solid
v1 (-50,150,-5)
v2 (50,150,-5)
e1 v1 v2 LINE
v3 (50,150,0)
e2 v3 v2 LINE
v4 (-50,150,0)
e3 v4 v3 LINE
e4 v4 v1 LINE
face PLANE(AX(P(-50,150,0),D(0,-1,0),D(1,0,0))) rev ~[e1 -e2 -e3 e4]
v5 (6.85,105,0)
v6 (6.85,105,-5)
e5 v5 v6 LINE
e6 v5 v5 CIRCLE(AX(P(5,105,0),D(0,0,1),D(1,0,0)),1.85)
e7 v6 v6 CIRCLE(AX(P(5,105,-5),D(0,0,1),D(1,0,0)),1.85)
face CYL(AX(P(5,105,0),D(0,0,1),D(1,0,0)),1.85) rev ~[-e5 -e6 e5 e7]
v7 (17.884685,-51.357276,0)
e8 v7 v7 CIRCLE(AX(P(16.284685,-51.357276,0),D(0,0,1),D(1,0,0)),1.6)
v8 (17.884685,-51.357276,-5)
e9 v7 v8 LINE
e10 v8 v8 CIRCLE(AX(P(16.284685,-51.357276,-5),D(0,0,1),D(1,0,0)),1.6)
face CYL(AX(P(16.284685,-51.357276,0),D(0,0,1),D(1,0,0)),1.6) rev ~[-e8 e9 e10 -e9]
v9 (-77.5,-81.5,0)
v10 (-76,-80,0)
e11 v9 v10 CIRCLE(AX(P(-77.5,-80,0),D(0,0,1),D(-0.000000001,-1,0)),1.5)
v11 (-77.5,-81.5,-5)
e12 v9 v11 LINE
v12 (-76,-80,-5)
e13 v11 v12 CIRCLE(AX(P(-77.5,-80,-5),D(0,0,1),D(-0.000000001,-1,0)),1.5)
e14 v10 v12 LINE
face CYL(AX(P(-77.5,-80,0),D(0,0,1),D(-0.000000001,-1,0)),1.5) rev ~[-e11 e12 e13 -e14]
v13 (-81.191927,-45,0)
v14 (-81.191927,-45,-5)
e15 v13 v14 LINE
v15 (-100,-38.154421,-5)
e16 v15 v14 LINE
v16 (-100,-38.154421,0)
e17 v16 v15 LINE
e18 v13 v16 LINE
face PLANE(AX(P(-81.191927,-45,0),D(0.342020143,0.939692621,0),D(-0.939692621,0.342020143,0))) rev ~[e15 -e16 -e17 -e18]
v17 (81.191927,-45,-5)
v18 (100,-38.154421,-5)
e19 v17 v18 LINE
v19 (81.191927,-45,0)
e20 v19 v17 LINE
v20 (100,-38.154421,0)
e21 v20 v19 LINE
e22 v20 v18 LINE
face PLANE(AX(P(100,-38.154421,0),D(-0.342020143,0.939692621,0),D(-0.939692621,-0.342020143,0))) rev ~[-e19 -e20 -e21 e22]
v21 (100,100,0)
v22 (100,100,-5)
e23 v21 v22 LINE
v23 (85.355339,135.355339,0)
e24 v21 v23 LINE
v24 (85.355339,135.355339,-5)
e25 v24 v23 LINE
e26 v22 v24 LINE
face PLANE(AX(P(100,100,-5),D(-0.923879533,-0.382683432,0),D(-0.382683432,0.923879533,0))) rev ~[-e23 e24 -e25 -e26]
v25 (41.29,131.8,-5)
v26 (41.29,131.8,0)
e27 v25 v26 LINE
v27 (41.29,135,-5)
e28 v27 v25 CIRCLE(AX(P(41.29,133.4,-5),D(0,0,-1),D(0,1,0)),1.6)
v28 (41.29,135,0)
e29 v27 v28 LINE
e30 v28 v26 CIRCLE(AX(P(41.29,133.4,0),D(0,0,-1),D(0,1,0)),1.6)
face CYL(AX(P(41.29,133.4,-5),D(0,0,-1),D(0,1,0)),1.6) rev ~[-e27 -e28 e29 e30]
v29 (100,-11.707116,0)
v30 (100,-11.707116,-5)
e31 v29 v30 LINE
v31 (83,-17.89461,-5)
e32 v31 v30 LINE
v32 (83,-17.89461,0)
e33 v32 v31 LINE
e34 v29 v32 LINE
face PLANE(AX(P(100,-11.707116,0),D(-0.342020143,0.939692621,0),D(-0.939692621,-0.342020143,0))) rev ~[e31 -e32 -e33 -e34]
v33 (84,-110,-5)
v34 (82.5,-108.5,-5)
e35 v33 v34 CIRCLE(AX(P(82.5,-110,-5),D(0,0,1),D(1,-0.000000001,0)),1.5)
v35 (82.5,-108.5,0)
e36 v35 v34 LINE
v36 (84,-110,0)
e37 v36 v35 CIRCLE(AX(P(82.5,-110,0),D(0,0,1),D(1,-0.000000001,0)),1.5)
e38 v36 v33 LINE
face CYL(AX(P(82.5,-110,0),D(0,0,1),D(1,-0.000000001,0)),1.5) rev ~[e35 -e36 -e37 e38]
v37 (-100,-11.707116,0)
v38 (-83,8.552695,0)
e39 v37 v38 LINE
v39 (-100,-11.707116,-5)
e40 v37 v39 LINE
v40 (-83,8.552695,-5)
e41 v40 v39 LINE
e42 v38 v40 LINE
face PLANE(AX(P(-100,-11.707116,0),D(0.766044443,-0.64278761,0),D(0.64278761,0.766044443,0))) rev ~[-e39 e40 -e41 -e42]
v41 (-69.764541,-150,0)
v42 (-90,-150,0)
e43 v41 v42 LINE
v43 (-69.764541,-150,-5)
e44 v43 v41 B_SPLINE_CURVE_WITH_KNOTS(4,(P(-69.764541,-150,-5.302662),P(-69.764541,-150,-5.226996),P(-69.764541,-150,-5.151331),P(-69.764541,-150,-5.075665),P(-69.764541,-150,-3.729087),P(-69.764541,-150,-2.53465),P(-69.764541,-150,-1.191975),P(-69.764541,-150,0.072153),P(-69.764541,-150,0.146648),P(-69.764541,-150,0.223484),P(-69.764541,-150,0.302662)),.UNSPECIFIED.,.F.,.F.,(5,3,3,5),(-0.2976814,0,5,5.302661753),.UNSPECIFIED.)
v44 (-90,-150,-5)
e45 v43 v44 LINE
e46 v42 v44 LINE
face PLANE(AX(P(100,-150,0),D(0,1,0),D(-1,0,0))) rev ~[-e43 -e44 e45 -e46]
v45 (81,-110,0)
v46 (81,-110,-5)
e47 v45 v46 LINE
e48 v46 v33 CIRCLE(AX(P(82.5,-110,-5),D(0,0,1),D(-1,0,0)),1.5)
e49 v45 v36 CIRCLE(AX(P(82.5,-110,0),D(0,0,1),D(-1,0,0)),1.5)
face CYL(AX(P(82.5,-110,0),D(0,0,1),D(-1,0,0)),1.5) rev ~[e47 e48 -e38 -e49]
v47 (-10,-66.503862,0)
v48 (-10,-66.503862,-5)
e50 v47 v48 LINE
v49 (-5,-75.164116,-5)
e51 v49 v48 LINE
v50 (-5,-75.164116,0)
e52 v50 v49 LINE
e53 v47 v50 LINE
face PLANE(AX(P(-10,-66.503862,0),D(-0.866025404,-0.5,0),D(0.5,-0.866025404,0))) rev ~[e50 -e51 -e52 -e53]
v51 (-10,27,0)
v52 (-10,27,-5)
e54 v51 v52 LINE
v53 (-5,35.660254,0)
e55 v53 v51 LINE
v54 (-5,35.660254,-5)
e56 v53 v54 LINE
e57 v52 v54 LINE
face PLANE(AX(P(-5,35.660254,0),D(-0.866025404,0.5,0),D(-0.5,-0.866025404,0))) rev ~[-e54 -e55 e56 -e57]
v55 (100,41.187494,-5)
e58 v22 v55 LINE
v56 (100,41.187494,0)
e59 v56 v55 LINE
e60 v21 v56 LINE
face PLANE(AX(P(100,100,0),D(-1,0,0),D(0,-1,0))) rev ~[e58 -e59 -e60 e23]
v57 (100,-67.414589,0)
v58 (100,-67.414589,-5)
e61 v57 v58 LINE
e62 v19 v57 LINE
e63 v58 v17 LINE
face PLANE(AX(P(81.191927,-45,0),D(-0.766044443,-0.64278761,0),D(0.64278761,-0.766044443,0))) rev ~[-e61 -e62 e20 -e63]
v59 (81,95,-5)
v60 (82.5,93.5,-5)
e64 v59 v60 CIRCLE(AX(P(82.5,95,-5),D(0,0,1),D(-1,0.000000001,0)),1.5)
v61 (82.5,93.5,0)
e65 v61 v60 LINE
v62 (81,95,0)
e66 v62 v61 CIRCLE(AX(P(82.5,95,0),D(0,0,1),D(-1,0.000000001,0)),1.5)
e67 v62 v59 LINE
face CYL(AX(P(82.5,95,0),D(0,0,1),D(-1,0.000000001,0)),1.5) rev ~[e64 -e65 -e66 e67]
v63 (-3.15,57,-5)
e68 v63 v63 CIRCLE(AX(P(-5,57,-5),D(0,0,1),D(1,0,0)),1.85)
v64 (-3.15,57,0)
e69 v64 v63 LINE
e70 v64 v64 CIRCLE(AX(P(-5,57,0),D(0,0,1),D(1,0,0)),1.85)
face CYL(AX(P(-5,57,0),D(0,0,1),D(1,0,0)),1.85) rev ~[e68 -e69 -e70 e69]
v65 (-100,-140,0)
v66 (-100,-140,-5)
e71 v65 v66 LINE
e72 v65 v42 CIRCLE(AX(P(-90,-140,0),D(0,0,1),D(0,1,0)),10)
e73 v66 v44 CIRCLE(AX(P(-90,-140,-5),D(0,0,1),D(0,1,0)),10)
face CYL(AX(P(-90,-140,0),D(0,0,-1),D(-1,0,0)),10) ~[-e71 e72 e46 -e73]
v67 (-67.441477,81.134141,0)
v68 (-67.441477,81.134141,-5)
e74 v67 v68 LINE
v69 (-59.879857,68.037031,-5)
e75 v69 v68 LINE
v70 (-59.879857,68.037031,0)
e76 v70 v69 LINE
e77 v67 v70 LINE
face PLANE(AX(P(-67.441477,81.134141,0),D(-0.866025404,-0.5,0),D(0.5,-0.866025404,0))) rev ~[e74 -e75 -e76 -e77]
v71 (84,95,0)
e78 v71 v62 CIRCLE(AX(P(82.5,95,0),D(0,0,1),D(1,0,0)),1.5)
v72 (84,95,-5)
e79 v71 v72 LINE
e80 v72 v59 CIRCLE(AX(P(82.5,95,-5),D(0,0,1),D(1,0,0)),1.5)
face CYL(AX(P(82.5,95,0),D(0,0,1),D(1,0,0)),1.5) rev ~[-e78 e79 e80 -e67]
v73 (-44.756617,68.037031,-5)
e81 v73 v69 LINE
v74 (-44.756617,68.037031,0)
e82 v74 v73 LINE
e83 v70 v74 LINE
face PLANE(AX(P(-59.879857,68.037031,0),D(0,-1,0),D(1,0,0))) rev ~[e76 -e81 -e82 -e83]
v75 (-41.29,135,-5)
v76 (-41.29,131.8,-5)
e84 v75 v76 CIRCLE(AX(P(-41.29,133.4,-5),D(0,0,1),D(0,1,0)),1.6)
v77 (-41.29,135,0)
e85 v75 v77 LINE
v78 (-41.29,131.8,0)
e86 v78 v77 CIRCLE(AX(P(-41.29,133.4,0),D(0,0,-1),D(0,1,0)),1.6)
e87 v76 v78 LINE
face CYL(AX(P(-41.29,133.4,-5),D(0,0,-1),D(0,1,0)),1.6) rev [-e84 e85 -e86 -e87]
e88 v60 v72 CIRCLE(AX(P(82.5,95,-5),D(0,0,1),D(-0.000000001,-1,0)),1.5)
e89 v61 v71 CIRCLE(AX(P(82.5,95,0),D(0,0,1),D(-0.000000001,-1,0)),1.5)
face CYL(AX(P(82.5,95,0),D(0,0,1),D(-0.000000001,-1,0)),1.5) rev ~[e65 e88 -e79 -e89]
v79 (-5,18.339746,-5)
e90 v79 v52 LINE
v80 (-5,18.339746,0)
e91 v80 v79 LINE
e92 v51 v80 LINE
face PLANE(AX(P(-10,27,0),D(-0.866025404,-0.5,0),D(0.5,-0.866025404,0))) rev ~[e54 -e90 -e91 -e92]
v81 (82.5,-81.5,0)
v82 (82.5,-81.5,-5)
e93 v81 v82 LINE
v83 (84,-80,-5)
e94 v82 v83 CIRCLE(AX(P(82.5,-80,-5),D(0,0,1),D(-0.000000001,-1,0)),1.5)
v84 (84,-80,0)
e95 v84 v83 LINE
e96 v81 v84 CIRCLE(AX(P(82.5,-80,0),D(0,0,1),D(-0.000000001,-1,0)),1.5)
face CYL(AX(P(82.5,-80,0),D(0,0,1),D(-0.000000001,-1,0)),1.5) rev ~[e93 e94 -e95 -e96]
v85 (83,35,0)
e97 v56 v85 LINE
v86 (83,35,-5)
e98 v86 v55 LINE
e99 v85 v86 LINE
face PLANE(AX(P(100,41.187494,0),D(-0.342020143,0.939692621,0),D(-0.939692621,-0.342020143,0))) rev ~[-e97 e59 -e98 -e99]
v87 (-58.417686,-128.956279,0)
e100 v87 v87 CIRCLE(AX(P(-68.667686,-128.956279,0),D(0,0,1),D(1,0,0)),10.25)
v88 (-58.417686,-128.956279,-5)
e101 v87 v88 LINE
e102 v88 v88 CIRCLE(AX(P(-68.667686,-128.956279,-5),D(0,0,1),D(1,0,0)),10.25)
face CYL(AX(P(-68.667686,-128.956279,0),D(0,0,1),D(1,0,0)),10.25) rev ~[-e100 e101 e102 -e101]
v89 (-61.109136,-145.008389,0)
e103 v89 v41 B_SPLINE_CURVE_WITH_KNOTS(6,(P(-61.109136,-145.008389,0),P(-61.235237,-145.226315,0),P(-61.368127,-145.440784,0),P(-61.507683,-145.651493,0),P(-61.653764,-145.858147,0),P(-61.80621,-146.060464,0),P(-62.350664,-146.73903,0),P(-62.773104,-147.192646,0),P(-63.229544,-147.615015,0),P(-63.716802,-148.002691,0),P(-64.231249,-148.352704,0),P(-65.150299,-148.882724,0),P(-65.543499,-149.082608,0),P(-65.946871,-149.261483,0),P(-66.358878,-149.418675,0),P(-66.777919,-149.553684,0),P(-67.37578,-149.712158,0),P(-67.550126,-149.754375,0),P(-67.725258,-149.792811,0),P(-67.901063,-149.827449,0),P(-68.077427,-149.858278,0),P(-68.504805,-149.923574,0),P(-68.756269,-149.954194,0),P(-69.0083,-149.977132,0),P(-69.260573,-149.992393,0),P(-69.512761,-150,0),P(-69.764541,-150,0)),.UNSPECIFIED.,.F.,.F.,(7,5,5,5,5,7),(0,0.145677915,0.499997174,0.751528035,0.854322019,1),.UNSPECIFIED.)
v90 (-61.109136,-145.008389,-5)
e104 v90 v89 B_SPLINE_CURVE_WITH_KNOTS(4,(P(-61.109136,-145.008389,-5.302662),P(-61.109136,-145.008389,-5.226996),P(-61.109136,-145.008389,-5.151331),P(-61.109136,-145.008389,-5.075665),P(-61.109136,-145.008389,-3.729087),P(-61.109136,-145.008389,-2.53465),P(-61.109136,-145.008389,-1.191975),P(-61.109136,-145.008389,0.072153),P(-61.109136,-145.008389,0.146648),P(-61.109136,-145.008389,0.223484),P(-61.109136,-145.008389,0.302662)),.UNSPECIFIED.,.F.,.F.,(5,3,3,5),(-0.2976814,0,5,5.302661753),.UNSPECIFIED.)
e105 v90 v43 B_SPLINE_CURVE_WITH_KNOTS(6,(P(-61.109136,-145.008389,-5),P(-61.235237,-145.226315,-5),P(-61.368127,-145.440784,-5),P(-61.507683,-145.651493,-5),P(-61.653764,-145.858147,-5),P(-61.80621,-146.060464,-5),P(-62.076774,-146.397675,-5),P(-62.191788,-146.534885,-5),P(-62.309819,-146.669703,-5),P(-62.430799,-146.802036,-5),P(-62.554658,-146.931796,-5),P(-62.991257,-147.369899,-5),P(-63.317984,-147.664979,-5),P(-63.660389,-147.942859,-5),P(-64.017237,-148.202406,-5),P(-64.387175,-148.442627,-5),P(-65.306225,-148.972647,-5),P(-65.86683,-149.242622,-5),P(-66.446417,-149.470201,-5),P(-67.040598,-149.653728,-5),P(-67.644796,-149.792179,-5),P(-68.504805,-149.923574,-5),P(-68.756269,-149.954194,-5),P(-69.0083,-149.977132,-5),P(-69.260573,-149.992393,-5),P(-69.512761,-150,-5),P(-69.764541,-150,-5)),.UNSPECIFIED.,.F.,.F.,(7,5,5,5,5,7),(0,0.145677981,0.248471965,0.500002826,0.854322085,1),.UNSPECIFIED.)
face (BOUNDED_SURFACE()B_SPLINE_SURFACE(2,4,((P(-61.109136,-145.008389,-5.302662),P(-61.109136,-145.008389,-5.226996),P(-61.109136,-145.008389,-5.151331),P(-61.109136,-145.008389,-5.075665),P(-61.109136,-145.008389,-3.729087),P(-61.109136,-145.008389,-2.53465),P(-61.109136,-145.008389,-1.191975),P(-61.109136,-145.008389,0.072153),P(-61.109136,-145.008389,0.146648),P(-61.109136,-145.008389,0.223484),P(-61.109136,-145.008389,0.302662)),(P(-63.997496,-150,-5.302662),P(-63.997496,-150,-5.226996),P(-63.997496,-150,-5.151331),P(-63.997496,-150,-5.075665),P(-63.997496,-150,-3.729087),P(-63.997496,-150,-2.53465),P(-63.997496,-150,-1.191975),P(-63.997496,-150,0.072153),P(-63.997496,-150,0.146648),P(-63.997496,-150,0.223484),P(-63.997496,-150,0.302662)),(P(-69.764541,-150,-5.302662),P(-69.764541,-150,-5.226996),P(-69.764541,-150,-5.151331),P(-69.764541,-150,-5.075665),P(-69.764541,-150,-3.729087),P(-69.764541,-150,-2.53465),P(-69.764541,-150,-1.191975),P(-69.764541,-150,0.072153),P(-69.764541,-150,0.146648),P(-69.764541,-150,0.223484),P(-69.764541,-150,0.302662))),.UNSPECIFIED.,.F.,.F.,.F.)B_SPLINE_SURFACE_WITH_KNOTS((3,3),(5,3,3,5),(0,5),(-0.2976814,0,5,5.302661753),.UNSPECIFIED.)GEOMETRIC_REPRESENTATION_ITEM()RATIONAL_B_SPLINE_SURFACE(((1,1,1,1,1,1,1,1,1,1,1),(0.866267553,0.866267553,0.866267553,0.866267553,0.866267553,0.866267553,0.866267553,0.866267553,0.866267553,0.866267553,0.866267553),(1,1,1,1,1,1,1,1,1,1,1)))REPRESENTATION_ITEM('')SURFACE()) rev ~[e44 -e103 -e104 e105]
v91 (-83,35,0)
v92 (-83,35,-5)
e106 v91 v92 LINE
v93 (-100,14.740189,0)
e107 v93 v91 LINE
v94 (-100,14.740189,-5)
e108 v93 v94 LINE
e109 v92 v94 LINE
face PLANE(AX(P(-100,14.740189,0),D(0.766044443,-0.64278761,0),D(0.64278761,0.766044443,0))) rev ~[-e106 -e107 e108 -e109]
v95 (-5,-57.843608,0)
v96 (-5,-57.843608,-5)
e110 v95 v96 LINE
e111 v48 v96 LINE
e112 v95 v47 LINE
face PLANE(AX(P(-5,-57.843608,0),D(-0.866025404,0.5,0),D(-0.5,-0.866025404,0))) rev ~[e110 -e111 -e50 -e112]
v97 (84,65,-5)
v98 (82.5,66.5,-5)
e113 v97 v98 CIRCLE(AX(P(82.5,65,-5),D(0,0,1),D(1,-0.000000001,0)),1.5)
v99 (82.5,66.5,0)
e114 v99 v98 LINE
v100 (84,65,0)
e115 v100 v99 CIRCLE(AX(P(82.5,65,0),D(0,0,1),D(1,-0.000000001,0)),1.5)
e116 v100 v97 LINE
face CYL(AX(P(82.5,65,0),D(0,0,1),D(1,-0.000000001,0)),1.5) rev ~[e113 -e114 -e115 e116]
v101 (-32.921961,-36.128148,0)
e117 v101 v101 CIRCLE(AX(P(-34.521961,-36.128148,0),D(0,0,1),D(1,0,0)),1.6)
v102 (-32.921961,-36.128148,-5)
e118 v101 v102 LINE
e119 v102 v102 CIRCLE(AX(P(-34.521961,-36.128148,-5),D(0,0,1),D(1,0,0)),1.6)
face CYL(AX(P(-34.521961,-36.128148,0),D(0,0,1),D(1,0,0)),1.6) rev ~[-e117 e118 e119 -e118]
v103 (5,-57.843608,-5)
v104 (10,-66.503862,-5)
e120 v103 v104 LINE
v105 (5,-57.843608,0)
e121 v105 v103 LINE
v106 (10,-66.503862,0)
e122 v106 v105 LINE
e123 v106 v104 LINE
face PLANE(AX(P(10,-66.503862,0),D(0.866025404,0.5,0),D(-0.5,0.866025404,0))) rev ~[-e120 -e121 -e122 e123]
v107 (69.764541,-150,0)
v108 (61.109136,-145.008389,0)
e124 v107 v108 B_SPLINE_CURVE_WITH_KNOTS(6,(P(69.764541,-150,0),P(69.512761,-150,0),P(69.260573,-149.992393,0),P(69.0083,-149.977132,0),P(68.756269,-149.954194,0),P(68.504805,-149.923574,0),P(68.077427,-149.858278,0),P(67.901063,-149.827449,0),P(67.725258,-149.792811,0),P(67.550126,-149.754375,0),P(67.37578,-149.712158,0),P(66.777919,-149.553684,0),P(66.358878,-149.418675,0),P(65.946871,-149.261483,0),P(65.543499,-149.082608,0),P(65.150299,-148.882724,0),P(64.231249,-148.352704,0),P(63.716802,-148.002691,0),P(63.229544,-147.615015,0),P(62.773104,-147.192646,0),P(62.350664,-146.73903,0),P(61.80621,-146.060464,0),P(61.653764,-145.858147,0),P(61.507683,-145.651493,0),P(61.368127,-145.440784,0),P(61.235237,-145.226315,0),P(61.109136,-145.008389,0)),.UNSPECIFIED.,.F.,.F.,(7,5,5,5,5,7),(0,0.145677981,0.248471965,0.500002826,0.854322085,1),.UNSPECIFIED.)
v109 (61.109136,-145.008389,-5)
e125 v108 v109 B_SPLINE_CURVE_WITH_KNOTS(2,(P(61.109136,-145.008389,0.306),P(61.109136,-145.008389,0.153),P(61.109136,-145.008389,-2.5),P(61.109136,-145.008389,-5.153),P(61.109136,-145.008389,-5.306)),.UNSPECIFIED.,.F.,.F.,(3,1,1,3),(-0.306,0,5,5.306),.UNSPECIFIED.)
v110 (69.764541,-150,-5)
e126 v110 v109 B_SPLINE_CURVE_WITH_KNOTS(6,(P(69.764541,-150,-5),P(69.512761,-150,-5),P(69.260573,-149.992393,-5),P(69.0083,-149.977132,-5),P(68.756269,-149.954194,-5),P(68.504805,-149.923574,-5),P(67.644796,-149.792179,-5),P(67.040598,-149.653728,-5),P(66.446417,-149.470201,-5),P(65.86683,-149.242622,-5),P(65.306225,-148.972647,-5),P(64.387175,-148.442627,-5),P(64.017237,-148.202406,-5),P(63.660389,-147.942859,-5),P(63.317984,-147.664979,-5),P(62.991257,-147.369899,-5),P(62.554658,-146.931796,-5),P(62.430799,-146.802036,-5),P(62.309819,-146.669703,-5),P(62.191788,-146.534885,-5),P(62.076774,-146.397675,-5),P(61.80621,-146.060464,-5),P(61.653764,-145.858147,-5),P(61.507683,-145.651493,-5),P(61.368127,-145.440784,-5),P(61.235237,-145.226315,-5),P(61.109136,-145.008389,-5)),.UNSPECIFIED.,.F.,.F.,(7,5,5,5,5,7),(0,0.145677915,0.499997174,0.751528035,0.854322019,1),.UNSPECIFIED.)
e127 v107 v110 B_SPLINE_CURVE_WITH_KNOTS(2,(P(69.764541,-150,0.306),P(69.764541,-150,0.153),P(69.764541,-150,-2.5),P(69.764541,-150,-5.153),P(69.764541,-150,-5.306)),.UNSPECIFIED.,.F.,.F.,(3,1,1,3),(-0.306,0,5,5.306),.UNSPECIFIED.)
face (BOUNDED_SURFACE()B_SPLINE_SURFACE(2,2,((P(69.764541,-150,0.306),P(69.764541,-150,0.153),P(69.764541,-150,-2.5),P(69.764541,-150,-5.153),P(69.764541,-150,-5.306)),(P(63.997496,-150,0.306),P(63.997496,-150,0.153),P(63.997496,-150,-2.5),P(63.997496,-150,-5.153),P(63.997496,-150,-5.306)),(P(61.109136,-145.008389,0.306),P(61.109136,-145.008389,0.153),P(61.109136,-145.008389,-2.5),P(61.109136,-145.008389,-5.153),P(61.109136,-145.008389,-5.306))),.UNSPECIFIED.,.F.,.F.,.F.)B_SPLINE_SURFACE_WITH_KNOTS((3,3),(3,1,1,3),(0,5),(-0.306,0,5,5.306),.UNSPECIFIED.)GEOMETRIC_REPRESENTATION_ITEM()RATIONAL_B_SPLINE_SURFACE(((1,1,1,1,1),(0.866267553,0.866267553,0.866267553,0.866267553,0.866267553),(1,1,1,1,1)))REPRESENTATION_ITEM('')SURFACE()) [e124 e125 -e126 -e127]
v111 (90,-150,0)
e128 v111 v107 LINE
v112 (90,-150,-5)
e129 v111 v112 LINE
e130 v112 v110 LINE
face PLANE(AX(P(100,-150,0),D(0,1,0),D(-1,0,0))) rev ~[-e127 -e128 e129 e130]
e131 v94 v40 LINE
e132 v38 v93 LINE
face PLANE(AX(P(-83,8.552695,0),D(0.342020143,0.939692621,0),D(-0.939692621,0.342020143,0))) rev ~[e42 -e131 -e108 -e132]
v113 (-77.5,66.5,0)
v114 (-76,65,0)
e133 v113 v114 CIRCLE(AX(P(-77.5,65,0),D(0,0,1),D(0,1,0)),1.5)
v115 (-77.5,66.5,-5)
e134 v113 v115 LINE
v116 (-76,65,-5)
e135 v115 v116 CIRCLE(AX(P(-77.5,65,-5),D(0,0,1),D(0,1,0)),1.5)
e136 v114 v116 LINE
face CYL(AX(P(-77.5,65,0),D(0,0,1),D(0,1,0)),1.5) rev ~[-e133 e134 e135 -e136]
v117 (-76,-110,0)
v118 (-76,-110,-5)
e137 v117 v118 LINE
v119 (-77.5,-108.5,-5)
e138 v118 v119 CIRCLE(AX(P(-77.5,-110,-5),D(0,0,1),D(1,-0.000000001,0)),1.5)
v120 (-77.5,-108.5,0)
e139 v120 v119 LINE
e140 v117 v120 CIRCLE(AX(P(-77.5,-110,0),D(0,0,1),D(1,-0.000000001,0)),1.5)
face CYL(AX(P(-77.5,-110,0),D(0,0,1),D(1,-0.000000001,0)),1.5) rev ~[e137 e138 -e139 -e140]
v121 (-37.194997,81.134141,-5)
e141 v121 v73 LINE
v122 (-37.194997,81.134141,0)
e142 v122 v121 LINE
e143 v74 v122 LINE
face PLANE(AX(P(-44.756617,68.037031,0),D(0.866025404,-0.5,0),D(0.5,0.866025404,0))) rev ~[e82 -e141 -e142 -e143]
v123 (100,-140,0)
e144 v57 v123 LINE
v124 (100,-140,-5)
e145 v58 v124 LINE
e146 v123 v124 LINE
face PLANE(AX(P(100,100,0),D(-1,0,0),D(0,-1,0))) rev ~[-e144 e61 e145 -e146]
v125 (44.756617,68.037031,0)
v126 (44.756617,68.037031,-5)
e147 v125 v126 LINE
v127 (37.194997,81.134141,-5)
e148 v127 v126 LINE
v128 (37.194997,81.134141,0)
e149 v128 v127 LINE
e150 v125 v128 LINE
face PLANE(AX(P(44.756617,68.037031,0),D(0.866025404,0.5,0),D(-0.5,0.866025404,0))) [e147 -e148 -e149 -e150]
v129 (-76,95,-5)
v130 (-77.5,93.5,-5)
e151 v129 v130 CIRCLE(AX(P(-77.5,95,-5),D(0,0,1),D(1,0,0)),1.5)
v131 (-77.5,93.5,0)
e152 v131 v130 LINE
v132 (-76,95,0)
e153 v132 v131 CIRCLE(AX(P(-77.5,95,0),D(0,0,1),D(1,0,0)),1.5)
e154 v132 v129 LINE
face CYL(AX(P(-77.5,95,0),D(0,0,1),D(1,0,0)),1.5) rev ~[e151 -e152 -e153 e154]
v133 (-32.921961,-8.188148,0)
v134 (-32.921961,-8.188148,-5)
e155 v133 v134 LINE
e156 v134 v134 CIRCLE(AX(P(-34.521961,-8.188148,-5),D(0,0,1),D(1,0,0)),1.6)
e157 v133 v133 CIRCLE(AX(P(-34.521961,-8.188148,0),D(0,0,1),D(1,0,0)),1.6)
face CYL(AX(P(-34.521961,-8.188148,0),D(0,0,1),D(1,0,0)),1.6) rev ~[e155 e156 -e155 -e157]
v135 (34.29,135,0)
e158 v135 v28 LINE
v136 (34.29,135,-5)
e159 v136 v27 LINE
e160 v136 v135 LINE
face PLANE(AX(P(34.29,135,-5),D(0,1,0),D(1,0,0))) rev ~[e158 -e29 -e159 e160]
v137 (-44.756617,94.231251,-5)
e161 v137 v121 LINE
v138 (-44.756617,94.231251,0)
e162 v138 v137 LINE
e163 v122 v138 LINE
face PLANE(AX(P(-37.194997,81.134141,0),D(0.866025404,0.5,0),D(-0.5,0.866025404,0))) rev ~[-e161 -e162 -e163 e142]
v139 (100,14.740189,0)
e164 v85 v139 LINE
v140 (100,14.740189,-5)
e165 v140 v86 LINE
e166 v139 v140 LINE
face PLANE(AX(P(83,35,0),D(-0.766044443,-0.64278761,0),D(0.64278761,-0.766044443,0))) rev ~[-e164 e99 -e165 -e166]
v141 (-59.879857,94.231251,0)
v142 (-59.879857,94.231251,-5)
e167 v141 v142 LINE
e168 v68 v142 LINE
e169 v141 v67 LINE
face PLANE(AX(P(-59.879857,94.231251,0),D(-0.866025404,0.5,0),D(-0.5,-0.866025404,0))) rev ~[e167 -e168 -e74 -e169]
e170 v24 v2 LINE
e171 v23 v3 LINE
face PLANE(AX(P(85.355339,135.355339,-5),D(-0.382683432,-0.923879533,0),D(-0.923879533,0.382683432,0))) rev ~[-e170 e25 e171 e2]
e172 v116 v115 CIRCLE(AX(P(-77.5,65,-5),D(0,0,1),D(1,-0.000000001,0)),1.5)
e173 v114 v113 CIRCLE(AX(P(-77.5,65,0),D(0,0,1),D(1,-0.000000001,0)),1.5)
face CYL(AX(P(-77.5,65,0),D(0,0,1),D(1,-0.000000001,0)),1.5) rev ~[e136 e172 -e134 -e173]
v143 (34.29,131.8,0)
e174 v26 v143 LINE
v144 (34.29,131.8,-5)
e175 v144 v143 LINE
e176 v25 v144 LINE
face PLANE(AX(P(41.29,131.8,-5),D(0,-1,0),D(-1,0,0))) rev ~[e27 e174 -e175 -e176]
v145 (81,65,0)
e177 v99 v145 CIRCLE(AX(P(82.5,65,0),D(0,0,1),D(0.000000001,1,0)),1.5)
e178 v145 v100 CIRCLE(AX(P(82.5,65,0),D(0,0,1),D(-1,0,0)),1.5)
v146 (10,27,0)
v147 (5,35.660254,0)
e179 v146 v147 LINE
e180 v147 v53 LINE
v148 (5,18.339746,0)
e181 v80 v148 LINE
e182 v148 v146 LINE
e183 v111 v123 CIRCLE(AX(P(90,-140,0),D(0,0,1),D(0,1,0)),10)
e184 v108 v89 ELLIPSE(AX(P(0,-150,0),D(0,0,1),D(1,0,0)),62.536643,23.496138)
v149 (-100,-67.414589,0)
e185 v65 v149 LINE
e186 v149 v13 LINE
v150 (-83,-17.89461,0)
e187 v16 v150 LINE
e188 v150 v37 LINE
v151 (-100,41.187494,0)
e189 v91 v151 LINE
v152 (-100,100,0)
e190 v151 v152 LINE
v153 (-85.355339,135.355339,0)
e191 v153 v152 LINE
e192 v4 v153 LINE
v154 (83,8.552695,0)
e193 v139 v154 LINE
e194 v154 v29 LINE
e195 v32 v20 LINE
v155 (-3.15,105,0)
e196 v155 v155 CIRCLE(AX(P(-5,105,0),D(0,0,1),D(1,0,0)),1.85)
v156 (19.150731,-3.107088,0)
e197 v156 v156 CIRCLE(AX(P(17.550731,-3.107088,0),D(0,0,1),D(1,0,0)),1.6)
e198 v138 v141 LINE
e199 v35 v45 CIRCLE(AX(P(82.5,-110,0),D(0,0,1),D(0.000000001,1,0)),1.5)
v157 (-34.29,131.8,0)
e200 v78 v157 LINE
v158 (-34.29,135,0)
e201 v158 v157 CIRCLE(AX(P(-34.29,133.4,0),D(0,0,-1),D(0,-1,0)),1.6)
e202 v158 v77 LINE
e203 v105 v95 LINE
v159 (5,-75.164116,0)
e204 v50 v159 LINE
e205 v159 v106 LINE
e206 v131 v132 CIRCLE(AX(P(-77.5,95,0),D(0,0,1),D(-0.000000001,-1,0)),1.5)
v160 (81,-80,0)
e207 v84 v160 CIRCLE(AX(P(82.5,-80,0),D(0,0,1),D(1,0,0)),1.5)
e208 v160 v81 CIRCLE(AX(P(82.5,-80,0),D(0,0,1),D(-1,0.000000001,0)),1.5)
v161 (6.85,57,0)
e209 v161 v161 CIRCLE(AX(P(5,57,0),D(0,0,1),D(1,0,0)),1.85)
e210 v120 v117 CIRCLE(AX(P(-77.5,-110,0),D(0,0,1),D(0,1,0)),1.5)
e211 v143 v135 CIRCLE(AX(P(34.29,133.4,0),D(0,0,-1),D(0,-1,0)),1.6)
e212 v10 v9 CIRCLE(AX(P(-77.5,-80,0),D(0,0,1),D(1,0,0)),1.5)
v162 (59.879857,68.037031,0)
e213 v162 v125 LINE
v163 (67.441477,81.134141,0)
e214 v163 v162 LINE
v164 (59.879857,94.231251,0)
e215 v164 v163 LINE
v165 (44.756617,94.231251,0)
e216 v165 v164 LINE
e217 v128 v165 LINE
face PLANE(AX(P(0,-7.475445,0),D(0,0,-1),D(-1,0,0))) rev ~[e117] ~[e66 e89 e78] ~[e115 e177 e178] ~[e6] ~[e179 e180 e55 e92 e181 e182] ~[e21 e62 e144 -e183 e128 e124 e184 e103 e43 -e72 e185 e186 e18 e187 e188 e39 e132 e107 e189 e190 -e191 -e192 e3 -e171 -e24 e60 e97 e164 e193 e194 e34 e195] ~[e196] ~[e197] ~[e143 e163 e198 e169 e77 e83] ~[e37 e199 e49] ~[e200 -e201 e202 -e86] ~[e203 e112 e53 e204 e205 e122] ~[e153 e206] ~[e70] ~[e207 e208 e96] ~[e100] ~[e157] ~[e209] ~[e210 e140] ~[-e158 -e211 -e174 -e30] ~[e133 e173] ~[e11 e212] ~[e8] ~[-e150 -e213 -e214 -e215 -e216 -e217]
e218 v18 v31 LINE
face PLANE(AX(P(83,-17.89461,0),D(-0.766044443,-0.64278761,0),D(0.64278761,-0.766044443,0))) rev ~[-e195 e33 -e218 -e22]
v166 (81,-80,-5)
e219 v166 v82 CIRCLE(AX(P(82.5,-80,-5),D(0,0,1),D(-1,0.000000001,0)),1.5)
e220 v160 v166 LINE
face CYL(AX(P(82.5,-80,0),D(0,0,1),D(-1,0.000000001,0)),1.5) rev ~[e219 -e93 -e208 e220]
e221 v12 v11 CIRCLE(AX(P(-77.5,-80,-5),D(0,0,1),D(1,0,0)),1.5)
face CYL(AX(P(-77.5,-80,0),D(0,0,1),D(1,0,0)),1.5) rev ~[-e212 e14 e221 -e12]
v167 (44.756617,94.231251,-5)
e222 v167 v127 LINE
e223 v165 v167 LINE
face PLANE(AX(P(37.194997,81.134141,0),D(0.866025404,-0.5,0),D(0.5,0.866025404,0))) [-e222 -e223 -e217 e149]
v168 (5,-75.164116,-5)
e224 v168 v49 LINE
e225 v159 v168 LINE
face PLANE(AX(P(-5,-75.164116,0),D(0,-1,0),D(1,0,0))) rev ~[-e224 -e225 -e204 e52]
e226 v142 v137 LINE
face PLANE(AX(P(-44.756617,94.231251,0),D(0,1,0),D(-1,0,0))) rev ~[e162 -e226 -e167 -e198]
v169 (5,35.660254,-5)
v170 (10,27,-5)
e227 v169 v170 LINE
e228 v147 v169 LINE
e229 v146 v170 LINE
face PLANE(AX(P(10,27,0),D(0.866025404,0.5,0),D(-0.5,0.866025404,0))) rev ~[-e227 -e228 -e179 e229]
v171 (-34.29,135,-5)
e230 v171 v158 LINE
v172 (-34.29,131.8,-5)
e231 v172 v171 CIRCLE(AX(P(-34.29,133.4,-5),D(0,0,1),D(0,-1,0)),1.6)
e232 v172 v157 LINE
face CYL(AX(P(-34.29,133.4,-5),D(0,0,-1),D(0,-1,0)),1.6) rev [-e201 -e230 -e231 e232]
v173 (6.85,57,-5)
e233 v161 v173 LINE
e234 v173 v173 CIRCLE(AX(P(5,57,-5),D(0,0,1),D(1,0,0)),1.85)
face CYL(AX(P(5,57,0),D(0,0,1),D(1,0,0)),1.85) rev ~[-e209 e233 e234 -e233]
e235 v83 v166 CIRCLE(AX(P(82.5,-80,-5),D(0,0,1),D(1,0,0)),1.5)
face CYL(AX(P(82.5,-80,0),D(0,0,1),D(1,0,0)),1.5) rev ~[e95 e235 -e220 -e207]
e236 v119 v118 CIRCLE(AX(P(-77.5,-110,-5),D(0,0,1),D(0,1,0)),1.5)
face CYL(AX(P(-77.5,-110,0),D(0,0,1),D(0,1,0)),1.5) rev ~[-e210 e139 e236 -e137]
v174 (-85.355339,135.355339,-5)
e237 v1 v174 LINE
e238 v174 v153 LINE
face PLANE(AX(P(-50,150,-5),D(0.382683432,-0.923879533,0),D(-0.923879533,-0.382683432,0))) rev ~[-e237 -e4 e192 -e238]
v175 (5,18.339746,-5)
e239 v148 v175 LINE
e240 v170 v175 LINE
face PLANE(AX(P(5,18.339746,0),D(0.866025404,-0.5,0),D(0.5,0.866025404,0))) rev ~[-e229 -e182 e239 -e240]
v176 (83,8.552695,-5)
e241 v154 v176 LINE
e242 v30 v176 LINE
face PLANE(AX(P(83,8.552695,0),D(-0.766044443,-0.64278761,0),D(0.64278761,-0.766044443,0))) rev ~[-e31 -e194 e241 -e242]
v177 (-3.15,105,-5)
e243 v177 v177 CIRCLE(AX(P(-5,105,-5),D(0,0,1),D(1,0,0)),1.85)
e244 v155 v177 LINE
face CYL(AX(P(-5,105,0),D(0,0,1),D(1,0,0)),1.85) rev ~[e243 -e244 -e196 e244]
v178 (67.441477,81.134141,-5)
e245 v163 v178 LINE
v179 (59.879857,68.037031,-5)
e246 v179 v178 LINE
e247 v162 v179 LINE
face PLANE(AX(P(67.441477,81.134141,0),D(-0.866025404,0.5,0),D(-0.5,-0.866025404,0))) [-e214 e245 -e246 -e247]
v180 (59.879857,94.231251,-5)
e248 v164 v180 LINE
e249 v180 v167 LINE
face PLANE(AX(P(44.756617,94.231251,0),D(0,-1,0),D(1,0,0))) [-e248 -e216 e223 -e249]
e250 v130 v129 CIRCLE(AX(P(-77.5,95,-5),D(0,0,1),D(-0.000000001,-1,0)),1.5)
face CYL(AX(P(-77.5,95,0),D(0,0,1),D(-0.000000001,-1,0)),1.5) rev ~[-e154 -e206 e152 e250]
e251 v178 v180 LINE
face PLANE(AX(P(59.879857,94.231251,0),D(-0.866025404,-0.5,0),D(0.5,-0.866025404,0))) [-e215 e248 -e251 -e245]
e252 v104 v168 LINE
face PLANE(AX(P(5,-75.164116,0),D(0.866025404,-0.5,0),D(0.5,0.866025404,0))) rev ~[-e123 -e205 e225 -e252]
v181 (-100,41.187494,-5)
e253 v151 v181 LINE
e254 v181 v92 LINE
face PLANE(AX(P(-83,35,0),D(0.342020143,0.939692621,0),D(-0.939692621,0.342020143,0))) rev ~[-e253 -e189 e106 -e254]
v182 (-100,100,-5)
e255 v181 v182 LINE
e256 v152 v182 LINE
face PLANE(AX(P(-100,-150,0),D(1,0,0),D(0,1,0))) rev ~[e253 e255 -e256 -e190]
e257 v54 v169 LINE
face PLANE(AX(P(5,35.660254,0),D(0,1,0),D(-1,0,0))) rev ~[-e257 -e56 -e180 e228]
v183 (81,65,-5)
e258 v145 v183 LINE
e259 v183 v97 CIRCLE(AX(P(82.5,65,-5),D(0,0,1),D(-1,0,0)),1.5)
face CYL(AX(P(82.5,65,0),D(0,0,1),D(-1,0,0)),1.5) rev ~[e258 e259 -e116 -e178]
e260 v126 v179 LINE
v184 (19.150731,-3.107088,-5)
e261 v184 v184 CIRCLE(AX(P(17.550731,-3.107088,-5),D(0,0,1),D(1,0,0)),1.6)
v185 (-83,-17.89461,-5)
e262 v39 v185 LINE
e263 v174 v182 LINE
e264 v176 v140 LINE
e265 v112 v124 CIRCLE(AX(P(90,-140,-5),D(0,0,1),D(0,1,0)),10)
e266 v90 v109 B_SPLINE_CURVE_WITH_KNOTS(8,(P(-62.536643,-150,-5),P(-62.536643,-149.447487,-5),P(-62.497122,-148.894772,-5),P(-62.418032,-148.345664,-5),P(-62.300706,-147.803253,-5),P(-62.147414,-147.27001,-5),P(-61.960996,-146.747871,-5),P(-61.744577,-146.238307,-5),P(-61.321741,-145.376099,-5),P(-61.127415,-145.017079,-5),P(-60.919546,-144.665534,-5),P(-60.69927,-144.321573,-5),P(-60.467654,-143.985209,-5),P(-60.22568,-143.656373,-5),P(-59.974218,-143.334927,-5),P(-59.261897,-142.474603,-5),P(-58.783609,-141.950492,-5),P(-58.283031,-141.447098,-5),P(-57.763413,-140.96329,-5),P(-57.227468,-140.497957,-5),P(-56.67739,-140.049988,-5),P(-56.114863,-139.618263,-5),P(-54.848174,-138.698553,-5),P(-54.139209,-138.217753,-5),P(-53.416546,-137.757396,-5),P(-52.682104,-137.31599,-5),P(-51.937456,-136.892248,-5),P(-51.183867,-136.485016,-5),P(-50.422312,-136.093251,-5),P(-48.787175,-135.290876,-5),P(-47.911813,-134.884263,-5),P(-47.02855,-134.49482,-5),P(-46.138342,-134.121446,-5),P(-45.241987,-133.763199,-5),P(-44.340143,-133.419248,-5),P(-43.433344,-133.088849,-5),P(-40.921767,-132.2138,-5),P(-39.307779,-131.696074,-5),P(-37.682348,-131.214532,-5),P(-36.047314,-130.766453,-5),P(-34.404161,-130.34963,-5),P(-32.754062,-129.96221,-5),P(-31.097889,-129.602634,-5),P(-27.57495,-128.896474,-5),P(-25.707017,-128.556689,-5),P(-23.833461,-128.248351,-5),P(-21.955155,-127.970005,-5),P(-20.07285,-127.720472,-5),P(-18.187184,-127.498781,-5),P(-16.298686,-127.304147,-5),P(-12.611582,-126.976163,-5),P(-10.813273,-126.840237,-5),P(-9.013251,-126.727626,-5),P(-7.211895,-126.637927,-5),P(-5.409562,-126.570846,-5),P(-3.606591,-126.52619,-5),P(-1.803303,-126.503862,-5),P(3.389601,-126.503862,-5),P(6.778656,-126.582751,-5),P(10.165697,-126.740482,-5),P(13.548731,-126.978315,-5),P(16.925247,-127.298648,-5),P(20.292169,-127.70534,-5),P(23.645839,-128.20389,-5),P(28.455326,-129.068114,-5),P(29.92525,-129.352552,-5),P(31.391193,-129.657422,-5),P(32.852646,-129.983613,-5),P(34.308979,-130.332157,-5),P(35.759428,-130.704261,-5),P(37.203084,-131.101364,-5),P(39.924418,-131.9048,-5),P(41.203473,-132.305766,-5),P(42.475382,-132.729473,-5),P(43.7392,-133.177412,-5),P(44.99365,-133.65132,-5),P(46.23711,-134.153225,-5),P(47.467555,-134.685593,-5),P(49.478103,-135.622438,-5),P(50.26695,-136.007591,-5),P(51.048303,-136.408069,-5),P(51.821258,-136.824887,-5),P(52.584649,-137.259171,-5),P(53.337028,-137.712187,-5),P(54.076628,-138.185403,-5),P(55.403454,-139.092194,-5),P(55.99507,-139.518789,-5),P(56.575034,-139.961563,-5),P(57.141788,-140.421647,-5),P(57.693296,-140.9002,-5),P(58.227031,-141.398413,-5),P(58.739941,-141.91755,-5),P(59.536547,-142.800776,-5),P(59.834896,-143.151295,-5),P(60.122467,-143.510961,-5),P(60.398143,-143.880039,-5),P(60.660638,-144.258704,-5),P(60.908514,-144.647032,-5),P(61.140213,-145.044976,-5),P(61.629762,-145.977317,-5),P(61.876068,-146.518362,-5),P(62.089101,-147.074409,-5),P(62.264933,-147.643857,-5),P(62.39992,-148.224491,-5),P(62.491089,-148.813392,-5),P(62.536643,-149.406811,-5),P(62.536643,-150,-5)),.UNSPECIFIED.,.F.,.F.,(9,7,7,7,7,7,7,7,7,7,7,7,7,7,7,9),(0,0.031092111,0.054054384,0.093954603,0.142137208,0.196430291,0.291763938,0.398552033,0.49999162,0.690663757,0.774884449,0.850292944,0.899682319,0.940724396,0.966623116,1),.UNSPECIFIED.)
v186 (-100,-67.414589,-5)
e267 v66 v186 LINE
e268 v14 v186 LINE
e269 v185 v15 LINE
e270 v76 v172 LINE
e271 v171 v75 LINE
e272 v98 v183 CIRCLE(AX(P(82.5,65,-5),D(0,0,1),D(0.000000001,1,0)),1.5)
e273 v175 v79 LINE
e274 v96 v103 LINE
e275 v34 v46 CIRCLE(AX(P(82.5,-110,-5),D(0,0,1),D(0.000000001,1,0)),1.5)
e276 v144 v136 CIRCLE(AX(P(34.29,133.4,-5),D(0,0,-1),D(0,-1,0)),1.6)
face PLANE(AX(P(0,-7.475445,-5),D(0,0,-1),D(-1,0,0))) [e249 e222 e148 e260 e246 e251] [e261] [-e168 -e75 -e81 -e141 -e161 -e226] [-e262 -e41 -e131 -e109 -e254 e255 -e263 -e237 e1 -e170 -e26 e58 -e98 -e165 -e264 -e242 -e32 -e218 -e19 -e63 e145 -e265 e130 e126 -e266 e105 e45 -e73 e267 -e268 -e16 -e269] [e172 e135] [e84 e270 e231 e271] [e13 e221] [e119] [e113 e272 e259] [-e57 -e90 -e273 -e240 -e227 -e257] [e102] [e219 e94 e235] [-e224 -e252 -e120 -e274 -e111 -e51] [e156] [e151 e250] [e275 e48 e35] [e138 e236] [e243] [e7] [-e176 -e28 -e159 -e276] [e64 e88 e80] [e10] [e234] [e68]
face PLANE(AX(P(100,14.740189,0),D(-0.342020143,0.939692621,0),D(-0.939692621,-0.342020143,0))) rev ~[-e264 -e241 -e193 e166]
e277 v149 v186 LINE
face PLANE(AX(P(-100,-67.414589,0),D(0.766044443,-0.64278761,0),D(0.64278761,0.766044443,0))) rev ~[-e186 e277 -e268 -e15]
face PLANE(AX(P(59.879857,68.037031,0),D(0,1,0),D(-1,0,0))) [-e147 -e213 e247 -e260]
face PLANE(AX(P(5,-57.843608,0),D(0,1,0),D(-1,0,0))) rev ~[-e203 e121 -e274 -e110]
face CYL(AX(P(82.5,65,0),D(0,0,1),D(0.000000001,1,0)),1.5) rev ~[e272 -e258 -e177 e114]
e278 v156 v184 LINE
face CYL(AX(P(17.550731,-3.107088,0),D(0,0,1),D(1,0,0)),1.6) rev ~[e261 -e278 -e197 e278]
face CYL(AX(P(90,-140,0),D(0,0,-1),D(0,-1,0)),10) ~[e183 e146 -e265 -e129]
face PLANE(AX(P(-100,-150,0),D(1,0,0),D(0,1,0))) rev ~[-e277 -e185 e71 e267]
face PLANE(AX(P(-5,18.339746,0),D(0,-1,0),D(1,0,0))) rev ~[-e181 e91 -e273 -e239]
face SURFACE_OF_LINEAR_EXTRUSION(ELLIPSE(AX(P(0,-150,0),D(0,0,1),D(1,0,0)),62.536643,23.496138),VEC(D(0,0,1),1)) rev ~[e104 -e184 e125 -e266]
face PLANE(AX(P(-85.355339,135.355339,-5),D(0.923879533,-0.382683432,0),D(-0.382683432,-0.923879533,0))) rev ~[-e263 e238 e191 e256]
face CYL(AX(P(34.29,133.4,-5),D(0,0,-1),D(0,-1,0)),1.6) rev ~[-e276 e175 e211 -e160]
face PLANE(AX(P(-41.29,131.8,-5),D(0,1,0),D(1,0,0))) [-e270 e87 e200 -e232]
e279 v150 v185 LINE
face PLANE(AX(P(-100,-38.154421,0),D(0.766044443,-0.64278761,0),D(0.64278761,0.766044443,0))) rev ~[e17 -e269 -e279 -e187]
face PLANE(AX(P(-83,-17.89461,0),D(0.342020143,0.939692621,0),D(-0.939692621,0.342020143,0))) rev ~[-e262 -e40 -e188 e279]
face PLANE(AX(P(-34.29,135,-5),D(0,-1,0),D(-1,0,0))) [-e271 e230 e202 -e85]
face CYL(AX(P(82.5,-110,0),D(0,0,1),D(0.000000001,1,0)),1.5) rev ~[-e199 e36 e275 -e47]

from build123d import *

# Parameters (mm, degrees)
SKETCH_1_R          = 1.6
EXTRUDE_1_DEPTH     = 5
CUT_EXTRUDE_1_DEPTH = 10
SKETCH_3_R          = 1.85
CUT_EXTRUDE_2_DEPTH = 10
SKETCH_4_R          = 10.25
CUT_EXTRUDE_3_DEPTH = 10
SKETCH_5_RX         = 62.536642564
SKETCH_5_RY         = 23.496138081
CUT_EXTRUDE_4_DEPTH = 10
FILLET_1_R          = 10
CUT_EXTRUDE_5_DEPTH = 10
CUT_EXTRUDE_6_DEPTH = 10
CUT_EXTRUDE_7_DEPTH = 10
CUT_EXTRUDE_8_DEPTH = 10
CUT_EXTRUDE_9_DEPTH = 10


with BuildPart() as part:
    # 草图1 → 凸台-拉伸1 (new body)
    with BuildSketch(Plane.XY):
        with BuildLine():
            Line((100, -150), (-100, -150))
            Line((-100, -150), (-100, 100))
            ThreePointArc((-100, 100), (-85.355339059, 135.355339059), (-50, 150))
            Line((-50, 150), (50, 150))
            ThreePointArc((50, 150), (85.355339059, 135.355339059), (100, 100))
            Line((100, 100), (100, -150))
        make_face()
        with Locations((-34.521960573, -8.188147907)):
            Circle(SKETCH_1_R, mode=Mode.SUBTRACT)
        with Locations((17.550731265, -3.107088494)):
            Circle(SKETCH_1_R, mode=Mode.SUBTRACT)
        with Locations((16.284685109, -51.357276396)):
            Circle(SKETCH_1_R, mode=Mode.SUBTRACT)
        with Locations((-34.521960573, -36.128147907)):
            Circle(SKETCH_1_R, mode=Mode.SUBTRACT)
    extrude(amount=-EXTRUDE_1_DEPTH)

    # 草图2 → 切除-拉伸1 (cut)
    with BuildSketch(Plane.XY):
        with BuildLine():
            Line((-77.5, 93.5), (-77.5, 95))
            Line((-77.5, 95), (-76, 95))
            ThreePointArc((-76, 95), (-78.560660172, 96.060660172), (-77.5, 93.5))
        make_face()
        with BuildLine():
            Line((-76, 95), (-77.5, 95))
            Line((-77.5, 95), (-77.5, 93.5))
            ThreePointArc((-77.5, 93.5), (-76.439339828, 93.939339828), (-76, 95))
        make_face()
        with BuildLine():
            ThreePointArc((-76, 65), (-76.439339828, 66.060660172), (-77.5, 66.5))
            Line((-77.5, 66.5), (-77.5, 65))
            Line((-77.5, 65), (-76, 65))
        make_face()
        with BuildLine():
            Line((-77.5, 65), (-77.5, 66.5))
            ThreePointArc((-77.5, 66.5), (-78.560660172, 63.939339828), (-76, 65))
            Line((-76, 65), (-77.5, 65))
        make_face()
        with BuildLine():
            ThreePointArc((84, 95), (82.5, 96.5), (81, 95))
            Line((81, 95), (82.5, 95))
            Line((82.5, 95), (82.5, 93.5))
            ThreePointArc((82.5, 93.5), (83.560660172, 93.939339828), (84, 95))
        make_face()
        with BuildLine():
            Line((82.5, 95), (81, 95))
            ThreePointArc((81, 95), (81.439339828, 93.939339828), (82.5, 93.5))
            Line((82.5, 93.5), (82.5, 95))
        make_face()
        with BuildLine():
            ThreePointArc((84, 65), (83.560660172, 66.060660172), (82.5, 66.5))
            Line((82.5, 66.5), (82.5, 65))
            Line((82.5, 65), (81, 65))
            ThreePointArc((81, 65), (82.5, 63.5), (84, 65))
        make_face()
        with BuildLine():
            Line((82.5, 65), (82.5, 66.5))
            ThreePointArc((82.5, 66.5), (81.439339828, 66.060660172), (81, 65))
            Line((81, 65), (82.5, 65))
        make_face()
        with BuildLine():
            ThreePointArc((84, -80), (82.5, -78.5), (81, -80))
            Line((81, -80), (82.5, -80))
            Line((82.5, -80), (82.5, -81.5))
            ThreePointArc((82.5, -81.5), (83.560660172, -81.060660172), (84, -80))
        make_face()
        with BuildLine():
            Line((82.5, -80), (81, -80))
            ThreePointArc((81, -80), (81.439339828, -81.060660172), (82.5, -81.5))
            Line((82.5, -81.5), (82.5, -80))
        make_face()
        with BuildLine():
            ThreePointArc((84, -110), (83.560660172, -108.939339828), (82.5, -108.5))
            Line((82.5, -108.5), (82.5, -110))
            Line((82.5, -110), (81, -110))
            ThreePointArc((81, -110), (82.5, -111.5), (84, -110))
        make_face()
        with BuildLine():
            Line((82.5, -110), (82.5, -108.5))
            ThreePointArc((82.5, -108.5), (81.439339828, -108.939339828), (81, -110))
            Line((81, -110), (82.5, -110))
        make_face()
        with BuildLine():
            ThreePointArc((-76, -110), (-76.439339828, -108.939339828), (-77.5, -108.5))
            Line((-77.5, -108.5), (-77.5, -110))
            Line((-77.5, -110), (-76, -110))
        make_face()
        with BuildLine():
            Line((-77.5, -110), (-77.5, -108.5))
            ThreePointArc((-77.5, -108.5), (-78.560660172, -111.060660172), (-76, -110))
            Line((-76, -110), (-77.5, -110))
        make_face()
        with BuildLine():
            Line((-77.5, -81.5), (-77.5, -80))
            Line((-77.5, -80), (-76, -80))
            ThreePointArc((-76, -80), (-78.560660172, -78.939339828), (-77.5, -81.5))
        make_face()
        with BuildLine():
            Line((-76, -80), (-77.5, -80))
            Line((-77.5, -80), (-77.5, -81.5))
            ThreePointArc((-77.5, -81.5), (-76.439339828, -81.060660172), (-76, -80))
        make_face()
    extrude(amount=-CUT_EXTRUDE_1_DEPTH, mode=Mode.SUBTRACT)

    # 草图3 → 切除-拉伸2 (cut)
    with BuildSketch(Plane.XY):
        with Locations((-5, 105)):
            Circle(SKETCH_3_R)
        with Locations((5, 105)):
            Circle(SKETCH_3_R)
        with Locations((-5, 57)):
            Circle(SKETCH_3_R)
        with Locations((5, 57)):
            Circle(SKETCH_3_R)
    extrude(amount=-CUT_EXTRUDE_2_DEPTH, mode=Mode.SUBTRACT)

    # 草图4 → 切除-拉伸3 (cut)
    with BuildSketch(Plane.XY):
        with Locations((-68.667685953, -128.956279274)):
            Circle(SKETCH_4_R)
    extrude(amount=-CUT_EXTRUDE_3_DEPTH, mode=Mode.SUBTRACT)

    # 草图5 → 切除-拉伸4 (cut)
    with BuildSketch(Plane.XY):
        with Locations((0, -150)):
            Ellipse(SKETCH_5_RX, SKETCH_5_RY)
    extrude(amount=-CUT_EXTRUDE_4_DEPTH, mode=Mode.SUBTRACT)

    # 圆角1
    fillet_1_edges = [part.edges().sort_by_distance(p)[0] for p in [
        (100, -150, -2.5),
        (62.536642564, -150, -2.5),
        (-62.536642564, -150, -2.5),
        (-100, -150, -2.5),
    ]]
    fillet(fillet_1_edges, radius=FILLET_1_R)

    # 草图6 → 切除-拉伸5 (cut)
    with BuildSketch(Plane.XY):
        Polygon((44.756616737, 68.037030505), (37.194996558, 81.134140843), (44.756616737, 94.231251181), (59.879857096, 94.231251181), (67.441477275, 81.134140843), (59.879857096, 68.037030505), align=None)
        Polygon((-37.194996558, 81.134140843), (-44.756616737, 94.231251181), (-59.879857096, 94.231251181), (-67.441477275, 81.134140843), (-59.879857096, 68.037030505), (-44.756616737, 68.037030505), align=None)
    extrude(amount=-CUT_EXTRUDE_5_DEPTH, mode=Mode.SUBTRACT)

    # 草图9 → 切除-拉伸6 (cut)
    with BuildSketch(Plane.XY):
        Polygon((-83, 35), (-100, 41.187493983), (-100, 14.740188926), align=None)
        Polygon((-83, 8.552694943), (-100, 14.740188926), (-100, -11.707116131), align=None)
        Polygon((-83, -17.894610113), (-100, -11.707116131), (-100, -38.154421187), align=None)
        Polygon((-81.191926789, -45), (-100, -38.154421187), (-100, -67.414588819), align=None)
        Polygon((100, -38.154421187), (81.191926789, -45), (100, -67.414588819), align=None)
        Polygon((83, -17.894610113), (100, -38.154421187), (100, -11.707116131), align=None)
        Polygon((83, 8.552694943), (100, -11.707116131), (100, 14.740188926), align=None)
        Polygon((83, 35), (100, 14.740188926), (100, 41.187493983), align=None)
    extrude(amount=-CUT_EXTRUDE_6_DEPTH, mode=Mode.SUBTRACT)

    # 草图10 → 切除-拉伸7 (cut)
    with BuildSketch(Plane.XY):
        Polygon((10, 27), (5, 35.660254038), (-5, 35.660254038), (-10, 27), (-5, 18.339745962), (5, 18.339745962), align=None)
        Polygon((10, -66.503861919), (5, -57.843607881), (-5, -57.843607881), (-10, -66.503861919), (-5, -75.164115957), (5, -75.164115957), align=None)
    extrude(amount=-CUT_EXTRUDE_7_DEPTH, mode=Mode.SUBTRACT)

    # 草图12 → 切除-拉伸8 (cut)
    with BuildSketch(Plane(origin=(0, 0, -5), x_dir=(-1, 0, 0), z_dir=(0, 0, -1))):
        with BuildLine():
            ThreePointArc((-85.355339059, 135.355339059), (-96.193976626, 119.134171618), (-100, 100))
            Line((-100, 100), (-85.355339059, 135.355339059))
        make_face()
        with BuildLine():
            ThreePointArc((-50, 150), (-69.134171618, 146.193976626), (-85.355339059, 135.355339059))
            Line((-85.355339059, 135.355339059), (-50, 150))
        make_face()
        with BuildLine():
            ThreePointArc((85.355339059, 135.355339059), (69.134171618, 146.193976626), (50, 150))
            Line((50, 150), (85.355339059, 135.355339059))
        make_face()
        with BuildLine():
            Line((85.355339059, 135.355339059), (100, 100))
            ThreePointArc((100, 100), (96.193976626, 119.134171618), (85.355339059, 135.355339059))
        make_face()
    extrude(amount=-CUT_EXTRUDE_8_DEPTH, mode=Mode.SUBTRACT)

    # 草图13 → 切除-拉伸9 (cut)
    with BuildSketch(Plane(origin=(0, 0, -5), x_dir=(-1, 0, 0), z_dir=(0, 0, -1))):
        with BuildLine():
            Line((-41.29, 131.8), (-34.29, 131.8))
            ThreePointArc((-34.29, 131.8), (-32.69, 133.4), (-34.29, 135))
            Line((-34.29, 135), (-41.29, 135))
            ThreePointArc((-41.29, 135), (-42.89, 133.4), (-41.29, 131.8))
        make_face()
        with BuildLine():
            ThreePointArc((34.29, 131.8), (32.69, 133.4), (34.29, 135))
            Line((34.29, 135), (41.29, 135))
            ThreePointArc((41.29, 135), (42.89, 133.4), (41.29, 131.8))
            Line((41.29, 131.8), (34.29, 131.8))
        make_face()
    extrude(amount=-CUT_EXTRUDE_9_DEPTH, mode=Mode.SUBTRACT)


solid = part.part
